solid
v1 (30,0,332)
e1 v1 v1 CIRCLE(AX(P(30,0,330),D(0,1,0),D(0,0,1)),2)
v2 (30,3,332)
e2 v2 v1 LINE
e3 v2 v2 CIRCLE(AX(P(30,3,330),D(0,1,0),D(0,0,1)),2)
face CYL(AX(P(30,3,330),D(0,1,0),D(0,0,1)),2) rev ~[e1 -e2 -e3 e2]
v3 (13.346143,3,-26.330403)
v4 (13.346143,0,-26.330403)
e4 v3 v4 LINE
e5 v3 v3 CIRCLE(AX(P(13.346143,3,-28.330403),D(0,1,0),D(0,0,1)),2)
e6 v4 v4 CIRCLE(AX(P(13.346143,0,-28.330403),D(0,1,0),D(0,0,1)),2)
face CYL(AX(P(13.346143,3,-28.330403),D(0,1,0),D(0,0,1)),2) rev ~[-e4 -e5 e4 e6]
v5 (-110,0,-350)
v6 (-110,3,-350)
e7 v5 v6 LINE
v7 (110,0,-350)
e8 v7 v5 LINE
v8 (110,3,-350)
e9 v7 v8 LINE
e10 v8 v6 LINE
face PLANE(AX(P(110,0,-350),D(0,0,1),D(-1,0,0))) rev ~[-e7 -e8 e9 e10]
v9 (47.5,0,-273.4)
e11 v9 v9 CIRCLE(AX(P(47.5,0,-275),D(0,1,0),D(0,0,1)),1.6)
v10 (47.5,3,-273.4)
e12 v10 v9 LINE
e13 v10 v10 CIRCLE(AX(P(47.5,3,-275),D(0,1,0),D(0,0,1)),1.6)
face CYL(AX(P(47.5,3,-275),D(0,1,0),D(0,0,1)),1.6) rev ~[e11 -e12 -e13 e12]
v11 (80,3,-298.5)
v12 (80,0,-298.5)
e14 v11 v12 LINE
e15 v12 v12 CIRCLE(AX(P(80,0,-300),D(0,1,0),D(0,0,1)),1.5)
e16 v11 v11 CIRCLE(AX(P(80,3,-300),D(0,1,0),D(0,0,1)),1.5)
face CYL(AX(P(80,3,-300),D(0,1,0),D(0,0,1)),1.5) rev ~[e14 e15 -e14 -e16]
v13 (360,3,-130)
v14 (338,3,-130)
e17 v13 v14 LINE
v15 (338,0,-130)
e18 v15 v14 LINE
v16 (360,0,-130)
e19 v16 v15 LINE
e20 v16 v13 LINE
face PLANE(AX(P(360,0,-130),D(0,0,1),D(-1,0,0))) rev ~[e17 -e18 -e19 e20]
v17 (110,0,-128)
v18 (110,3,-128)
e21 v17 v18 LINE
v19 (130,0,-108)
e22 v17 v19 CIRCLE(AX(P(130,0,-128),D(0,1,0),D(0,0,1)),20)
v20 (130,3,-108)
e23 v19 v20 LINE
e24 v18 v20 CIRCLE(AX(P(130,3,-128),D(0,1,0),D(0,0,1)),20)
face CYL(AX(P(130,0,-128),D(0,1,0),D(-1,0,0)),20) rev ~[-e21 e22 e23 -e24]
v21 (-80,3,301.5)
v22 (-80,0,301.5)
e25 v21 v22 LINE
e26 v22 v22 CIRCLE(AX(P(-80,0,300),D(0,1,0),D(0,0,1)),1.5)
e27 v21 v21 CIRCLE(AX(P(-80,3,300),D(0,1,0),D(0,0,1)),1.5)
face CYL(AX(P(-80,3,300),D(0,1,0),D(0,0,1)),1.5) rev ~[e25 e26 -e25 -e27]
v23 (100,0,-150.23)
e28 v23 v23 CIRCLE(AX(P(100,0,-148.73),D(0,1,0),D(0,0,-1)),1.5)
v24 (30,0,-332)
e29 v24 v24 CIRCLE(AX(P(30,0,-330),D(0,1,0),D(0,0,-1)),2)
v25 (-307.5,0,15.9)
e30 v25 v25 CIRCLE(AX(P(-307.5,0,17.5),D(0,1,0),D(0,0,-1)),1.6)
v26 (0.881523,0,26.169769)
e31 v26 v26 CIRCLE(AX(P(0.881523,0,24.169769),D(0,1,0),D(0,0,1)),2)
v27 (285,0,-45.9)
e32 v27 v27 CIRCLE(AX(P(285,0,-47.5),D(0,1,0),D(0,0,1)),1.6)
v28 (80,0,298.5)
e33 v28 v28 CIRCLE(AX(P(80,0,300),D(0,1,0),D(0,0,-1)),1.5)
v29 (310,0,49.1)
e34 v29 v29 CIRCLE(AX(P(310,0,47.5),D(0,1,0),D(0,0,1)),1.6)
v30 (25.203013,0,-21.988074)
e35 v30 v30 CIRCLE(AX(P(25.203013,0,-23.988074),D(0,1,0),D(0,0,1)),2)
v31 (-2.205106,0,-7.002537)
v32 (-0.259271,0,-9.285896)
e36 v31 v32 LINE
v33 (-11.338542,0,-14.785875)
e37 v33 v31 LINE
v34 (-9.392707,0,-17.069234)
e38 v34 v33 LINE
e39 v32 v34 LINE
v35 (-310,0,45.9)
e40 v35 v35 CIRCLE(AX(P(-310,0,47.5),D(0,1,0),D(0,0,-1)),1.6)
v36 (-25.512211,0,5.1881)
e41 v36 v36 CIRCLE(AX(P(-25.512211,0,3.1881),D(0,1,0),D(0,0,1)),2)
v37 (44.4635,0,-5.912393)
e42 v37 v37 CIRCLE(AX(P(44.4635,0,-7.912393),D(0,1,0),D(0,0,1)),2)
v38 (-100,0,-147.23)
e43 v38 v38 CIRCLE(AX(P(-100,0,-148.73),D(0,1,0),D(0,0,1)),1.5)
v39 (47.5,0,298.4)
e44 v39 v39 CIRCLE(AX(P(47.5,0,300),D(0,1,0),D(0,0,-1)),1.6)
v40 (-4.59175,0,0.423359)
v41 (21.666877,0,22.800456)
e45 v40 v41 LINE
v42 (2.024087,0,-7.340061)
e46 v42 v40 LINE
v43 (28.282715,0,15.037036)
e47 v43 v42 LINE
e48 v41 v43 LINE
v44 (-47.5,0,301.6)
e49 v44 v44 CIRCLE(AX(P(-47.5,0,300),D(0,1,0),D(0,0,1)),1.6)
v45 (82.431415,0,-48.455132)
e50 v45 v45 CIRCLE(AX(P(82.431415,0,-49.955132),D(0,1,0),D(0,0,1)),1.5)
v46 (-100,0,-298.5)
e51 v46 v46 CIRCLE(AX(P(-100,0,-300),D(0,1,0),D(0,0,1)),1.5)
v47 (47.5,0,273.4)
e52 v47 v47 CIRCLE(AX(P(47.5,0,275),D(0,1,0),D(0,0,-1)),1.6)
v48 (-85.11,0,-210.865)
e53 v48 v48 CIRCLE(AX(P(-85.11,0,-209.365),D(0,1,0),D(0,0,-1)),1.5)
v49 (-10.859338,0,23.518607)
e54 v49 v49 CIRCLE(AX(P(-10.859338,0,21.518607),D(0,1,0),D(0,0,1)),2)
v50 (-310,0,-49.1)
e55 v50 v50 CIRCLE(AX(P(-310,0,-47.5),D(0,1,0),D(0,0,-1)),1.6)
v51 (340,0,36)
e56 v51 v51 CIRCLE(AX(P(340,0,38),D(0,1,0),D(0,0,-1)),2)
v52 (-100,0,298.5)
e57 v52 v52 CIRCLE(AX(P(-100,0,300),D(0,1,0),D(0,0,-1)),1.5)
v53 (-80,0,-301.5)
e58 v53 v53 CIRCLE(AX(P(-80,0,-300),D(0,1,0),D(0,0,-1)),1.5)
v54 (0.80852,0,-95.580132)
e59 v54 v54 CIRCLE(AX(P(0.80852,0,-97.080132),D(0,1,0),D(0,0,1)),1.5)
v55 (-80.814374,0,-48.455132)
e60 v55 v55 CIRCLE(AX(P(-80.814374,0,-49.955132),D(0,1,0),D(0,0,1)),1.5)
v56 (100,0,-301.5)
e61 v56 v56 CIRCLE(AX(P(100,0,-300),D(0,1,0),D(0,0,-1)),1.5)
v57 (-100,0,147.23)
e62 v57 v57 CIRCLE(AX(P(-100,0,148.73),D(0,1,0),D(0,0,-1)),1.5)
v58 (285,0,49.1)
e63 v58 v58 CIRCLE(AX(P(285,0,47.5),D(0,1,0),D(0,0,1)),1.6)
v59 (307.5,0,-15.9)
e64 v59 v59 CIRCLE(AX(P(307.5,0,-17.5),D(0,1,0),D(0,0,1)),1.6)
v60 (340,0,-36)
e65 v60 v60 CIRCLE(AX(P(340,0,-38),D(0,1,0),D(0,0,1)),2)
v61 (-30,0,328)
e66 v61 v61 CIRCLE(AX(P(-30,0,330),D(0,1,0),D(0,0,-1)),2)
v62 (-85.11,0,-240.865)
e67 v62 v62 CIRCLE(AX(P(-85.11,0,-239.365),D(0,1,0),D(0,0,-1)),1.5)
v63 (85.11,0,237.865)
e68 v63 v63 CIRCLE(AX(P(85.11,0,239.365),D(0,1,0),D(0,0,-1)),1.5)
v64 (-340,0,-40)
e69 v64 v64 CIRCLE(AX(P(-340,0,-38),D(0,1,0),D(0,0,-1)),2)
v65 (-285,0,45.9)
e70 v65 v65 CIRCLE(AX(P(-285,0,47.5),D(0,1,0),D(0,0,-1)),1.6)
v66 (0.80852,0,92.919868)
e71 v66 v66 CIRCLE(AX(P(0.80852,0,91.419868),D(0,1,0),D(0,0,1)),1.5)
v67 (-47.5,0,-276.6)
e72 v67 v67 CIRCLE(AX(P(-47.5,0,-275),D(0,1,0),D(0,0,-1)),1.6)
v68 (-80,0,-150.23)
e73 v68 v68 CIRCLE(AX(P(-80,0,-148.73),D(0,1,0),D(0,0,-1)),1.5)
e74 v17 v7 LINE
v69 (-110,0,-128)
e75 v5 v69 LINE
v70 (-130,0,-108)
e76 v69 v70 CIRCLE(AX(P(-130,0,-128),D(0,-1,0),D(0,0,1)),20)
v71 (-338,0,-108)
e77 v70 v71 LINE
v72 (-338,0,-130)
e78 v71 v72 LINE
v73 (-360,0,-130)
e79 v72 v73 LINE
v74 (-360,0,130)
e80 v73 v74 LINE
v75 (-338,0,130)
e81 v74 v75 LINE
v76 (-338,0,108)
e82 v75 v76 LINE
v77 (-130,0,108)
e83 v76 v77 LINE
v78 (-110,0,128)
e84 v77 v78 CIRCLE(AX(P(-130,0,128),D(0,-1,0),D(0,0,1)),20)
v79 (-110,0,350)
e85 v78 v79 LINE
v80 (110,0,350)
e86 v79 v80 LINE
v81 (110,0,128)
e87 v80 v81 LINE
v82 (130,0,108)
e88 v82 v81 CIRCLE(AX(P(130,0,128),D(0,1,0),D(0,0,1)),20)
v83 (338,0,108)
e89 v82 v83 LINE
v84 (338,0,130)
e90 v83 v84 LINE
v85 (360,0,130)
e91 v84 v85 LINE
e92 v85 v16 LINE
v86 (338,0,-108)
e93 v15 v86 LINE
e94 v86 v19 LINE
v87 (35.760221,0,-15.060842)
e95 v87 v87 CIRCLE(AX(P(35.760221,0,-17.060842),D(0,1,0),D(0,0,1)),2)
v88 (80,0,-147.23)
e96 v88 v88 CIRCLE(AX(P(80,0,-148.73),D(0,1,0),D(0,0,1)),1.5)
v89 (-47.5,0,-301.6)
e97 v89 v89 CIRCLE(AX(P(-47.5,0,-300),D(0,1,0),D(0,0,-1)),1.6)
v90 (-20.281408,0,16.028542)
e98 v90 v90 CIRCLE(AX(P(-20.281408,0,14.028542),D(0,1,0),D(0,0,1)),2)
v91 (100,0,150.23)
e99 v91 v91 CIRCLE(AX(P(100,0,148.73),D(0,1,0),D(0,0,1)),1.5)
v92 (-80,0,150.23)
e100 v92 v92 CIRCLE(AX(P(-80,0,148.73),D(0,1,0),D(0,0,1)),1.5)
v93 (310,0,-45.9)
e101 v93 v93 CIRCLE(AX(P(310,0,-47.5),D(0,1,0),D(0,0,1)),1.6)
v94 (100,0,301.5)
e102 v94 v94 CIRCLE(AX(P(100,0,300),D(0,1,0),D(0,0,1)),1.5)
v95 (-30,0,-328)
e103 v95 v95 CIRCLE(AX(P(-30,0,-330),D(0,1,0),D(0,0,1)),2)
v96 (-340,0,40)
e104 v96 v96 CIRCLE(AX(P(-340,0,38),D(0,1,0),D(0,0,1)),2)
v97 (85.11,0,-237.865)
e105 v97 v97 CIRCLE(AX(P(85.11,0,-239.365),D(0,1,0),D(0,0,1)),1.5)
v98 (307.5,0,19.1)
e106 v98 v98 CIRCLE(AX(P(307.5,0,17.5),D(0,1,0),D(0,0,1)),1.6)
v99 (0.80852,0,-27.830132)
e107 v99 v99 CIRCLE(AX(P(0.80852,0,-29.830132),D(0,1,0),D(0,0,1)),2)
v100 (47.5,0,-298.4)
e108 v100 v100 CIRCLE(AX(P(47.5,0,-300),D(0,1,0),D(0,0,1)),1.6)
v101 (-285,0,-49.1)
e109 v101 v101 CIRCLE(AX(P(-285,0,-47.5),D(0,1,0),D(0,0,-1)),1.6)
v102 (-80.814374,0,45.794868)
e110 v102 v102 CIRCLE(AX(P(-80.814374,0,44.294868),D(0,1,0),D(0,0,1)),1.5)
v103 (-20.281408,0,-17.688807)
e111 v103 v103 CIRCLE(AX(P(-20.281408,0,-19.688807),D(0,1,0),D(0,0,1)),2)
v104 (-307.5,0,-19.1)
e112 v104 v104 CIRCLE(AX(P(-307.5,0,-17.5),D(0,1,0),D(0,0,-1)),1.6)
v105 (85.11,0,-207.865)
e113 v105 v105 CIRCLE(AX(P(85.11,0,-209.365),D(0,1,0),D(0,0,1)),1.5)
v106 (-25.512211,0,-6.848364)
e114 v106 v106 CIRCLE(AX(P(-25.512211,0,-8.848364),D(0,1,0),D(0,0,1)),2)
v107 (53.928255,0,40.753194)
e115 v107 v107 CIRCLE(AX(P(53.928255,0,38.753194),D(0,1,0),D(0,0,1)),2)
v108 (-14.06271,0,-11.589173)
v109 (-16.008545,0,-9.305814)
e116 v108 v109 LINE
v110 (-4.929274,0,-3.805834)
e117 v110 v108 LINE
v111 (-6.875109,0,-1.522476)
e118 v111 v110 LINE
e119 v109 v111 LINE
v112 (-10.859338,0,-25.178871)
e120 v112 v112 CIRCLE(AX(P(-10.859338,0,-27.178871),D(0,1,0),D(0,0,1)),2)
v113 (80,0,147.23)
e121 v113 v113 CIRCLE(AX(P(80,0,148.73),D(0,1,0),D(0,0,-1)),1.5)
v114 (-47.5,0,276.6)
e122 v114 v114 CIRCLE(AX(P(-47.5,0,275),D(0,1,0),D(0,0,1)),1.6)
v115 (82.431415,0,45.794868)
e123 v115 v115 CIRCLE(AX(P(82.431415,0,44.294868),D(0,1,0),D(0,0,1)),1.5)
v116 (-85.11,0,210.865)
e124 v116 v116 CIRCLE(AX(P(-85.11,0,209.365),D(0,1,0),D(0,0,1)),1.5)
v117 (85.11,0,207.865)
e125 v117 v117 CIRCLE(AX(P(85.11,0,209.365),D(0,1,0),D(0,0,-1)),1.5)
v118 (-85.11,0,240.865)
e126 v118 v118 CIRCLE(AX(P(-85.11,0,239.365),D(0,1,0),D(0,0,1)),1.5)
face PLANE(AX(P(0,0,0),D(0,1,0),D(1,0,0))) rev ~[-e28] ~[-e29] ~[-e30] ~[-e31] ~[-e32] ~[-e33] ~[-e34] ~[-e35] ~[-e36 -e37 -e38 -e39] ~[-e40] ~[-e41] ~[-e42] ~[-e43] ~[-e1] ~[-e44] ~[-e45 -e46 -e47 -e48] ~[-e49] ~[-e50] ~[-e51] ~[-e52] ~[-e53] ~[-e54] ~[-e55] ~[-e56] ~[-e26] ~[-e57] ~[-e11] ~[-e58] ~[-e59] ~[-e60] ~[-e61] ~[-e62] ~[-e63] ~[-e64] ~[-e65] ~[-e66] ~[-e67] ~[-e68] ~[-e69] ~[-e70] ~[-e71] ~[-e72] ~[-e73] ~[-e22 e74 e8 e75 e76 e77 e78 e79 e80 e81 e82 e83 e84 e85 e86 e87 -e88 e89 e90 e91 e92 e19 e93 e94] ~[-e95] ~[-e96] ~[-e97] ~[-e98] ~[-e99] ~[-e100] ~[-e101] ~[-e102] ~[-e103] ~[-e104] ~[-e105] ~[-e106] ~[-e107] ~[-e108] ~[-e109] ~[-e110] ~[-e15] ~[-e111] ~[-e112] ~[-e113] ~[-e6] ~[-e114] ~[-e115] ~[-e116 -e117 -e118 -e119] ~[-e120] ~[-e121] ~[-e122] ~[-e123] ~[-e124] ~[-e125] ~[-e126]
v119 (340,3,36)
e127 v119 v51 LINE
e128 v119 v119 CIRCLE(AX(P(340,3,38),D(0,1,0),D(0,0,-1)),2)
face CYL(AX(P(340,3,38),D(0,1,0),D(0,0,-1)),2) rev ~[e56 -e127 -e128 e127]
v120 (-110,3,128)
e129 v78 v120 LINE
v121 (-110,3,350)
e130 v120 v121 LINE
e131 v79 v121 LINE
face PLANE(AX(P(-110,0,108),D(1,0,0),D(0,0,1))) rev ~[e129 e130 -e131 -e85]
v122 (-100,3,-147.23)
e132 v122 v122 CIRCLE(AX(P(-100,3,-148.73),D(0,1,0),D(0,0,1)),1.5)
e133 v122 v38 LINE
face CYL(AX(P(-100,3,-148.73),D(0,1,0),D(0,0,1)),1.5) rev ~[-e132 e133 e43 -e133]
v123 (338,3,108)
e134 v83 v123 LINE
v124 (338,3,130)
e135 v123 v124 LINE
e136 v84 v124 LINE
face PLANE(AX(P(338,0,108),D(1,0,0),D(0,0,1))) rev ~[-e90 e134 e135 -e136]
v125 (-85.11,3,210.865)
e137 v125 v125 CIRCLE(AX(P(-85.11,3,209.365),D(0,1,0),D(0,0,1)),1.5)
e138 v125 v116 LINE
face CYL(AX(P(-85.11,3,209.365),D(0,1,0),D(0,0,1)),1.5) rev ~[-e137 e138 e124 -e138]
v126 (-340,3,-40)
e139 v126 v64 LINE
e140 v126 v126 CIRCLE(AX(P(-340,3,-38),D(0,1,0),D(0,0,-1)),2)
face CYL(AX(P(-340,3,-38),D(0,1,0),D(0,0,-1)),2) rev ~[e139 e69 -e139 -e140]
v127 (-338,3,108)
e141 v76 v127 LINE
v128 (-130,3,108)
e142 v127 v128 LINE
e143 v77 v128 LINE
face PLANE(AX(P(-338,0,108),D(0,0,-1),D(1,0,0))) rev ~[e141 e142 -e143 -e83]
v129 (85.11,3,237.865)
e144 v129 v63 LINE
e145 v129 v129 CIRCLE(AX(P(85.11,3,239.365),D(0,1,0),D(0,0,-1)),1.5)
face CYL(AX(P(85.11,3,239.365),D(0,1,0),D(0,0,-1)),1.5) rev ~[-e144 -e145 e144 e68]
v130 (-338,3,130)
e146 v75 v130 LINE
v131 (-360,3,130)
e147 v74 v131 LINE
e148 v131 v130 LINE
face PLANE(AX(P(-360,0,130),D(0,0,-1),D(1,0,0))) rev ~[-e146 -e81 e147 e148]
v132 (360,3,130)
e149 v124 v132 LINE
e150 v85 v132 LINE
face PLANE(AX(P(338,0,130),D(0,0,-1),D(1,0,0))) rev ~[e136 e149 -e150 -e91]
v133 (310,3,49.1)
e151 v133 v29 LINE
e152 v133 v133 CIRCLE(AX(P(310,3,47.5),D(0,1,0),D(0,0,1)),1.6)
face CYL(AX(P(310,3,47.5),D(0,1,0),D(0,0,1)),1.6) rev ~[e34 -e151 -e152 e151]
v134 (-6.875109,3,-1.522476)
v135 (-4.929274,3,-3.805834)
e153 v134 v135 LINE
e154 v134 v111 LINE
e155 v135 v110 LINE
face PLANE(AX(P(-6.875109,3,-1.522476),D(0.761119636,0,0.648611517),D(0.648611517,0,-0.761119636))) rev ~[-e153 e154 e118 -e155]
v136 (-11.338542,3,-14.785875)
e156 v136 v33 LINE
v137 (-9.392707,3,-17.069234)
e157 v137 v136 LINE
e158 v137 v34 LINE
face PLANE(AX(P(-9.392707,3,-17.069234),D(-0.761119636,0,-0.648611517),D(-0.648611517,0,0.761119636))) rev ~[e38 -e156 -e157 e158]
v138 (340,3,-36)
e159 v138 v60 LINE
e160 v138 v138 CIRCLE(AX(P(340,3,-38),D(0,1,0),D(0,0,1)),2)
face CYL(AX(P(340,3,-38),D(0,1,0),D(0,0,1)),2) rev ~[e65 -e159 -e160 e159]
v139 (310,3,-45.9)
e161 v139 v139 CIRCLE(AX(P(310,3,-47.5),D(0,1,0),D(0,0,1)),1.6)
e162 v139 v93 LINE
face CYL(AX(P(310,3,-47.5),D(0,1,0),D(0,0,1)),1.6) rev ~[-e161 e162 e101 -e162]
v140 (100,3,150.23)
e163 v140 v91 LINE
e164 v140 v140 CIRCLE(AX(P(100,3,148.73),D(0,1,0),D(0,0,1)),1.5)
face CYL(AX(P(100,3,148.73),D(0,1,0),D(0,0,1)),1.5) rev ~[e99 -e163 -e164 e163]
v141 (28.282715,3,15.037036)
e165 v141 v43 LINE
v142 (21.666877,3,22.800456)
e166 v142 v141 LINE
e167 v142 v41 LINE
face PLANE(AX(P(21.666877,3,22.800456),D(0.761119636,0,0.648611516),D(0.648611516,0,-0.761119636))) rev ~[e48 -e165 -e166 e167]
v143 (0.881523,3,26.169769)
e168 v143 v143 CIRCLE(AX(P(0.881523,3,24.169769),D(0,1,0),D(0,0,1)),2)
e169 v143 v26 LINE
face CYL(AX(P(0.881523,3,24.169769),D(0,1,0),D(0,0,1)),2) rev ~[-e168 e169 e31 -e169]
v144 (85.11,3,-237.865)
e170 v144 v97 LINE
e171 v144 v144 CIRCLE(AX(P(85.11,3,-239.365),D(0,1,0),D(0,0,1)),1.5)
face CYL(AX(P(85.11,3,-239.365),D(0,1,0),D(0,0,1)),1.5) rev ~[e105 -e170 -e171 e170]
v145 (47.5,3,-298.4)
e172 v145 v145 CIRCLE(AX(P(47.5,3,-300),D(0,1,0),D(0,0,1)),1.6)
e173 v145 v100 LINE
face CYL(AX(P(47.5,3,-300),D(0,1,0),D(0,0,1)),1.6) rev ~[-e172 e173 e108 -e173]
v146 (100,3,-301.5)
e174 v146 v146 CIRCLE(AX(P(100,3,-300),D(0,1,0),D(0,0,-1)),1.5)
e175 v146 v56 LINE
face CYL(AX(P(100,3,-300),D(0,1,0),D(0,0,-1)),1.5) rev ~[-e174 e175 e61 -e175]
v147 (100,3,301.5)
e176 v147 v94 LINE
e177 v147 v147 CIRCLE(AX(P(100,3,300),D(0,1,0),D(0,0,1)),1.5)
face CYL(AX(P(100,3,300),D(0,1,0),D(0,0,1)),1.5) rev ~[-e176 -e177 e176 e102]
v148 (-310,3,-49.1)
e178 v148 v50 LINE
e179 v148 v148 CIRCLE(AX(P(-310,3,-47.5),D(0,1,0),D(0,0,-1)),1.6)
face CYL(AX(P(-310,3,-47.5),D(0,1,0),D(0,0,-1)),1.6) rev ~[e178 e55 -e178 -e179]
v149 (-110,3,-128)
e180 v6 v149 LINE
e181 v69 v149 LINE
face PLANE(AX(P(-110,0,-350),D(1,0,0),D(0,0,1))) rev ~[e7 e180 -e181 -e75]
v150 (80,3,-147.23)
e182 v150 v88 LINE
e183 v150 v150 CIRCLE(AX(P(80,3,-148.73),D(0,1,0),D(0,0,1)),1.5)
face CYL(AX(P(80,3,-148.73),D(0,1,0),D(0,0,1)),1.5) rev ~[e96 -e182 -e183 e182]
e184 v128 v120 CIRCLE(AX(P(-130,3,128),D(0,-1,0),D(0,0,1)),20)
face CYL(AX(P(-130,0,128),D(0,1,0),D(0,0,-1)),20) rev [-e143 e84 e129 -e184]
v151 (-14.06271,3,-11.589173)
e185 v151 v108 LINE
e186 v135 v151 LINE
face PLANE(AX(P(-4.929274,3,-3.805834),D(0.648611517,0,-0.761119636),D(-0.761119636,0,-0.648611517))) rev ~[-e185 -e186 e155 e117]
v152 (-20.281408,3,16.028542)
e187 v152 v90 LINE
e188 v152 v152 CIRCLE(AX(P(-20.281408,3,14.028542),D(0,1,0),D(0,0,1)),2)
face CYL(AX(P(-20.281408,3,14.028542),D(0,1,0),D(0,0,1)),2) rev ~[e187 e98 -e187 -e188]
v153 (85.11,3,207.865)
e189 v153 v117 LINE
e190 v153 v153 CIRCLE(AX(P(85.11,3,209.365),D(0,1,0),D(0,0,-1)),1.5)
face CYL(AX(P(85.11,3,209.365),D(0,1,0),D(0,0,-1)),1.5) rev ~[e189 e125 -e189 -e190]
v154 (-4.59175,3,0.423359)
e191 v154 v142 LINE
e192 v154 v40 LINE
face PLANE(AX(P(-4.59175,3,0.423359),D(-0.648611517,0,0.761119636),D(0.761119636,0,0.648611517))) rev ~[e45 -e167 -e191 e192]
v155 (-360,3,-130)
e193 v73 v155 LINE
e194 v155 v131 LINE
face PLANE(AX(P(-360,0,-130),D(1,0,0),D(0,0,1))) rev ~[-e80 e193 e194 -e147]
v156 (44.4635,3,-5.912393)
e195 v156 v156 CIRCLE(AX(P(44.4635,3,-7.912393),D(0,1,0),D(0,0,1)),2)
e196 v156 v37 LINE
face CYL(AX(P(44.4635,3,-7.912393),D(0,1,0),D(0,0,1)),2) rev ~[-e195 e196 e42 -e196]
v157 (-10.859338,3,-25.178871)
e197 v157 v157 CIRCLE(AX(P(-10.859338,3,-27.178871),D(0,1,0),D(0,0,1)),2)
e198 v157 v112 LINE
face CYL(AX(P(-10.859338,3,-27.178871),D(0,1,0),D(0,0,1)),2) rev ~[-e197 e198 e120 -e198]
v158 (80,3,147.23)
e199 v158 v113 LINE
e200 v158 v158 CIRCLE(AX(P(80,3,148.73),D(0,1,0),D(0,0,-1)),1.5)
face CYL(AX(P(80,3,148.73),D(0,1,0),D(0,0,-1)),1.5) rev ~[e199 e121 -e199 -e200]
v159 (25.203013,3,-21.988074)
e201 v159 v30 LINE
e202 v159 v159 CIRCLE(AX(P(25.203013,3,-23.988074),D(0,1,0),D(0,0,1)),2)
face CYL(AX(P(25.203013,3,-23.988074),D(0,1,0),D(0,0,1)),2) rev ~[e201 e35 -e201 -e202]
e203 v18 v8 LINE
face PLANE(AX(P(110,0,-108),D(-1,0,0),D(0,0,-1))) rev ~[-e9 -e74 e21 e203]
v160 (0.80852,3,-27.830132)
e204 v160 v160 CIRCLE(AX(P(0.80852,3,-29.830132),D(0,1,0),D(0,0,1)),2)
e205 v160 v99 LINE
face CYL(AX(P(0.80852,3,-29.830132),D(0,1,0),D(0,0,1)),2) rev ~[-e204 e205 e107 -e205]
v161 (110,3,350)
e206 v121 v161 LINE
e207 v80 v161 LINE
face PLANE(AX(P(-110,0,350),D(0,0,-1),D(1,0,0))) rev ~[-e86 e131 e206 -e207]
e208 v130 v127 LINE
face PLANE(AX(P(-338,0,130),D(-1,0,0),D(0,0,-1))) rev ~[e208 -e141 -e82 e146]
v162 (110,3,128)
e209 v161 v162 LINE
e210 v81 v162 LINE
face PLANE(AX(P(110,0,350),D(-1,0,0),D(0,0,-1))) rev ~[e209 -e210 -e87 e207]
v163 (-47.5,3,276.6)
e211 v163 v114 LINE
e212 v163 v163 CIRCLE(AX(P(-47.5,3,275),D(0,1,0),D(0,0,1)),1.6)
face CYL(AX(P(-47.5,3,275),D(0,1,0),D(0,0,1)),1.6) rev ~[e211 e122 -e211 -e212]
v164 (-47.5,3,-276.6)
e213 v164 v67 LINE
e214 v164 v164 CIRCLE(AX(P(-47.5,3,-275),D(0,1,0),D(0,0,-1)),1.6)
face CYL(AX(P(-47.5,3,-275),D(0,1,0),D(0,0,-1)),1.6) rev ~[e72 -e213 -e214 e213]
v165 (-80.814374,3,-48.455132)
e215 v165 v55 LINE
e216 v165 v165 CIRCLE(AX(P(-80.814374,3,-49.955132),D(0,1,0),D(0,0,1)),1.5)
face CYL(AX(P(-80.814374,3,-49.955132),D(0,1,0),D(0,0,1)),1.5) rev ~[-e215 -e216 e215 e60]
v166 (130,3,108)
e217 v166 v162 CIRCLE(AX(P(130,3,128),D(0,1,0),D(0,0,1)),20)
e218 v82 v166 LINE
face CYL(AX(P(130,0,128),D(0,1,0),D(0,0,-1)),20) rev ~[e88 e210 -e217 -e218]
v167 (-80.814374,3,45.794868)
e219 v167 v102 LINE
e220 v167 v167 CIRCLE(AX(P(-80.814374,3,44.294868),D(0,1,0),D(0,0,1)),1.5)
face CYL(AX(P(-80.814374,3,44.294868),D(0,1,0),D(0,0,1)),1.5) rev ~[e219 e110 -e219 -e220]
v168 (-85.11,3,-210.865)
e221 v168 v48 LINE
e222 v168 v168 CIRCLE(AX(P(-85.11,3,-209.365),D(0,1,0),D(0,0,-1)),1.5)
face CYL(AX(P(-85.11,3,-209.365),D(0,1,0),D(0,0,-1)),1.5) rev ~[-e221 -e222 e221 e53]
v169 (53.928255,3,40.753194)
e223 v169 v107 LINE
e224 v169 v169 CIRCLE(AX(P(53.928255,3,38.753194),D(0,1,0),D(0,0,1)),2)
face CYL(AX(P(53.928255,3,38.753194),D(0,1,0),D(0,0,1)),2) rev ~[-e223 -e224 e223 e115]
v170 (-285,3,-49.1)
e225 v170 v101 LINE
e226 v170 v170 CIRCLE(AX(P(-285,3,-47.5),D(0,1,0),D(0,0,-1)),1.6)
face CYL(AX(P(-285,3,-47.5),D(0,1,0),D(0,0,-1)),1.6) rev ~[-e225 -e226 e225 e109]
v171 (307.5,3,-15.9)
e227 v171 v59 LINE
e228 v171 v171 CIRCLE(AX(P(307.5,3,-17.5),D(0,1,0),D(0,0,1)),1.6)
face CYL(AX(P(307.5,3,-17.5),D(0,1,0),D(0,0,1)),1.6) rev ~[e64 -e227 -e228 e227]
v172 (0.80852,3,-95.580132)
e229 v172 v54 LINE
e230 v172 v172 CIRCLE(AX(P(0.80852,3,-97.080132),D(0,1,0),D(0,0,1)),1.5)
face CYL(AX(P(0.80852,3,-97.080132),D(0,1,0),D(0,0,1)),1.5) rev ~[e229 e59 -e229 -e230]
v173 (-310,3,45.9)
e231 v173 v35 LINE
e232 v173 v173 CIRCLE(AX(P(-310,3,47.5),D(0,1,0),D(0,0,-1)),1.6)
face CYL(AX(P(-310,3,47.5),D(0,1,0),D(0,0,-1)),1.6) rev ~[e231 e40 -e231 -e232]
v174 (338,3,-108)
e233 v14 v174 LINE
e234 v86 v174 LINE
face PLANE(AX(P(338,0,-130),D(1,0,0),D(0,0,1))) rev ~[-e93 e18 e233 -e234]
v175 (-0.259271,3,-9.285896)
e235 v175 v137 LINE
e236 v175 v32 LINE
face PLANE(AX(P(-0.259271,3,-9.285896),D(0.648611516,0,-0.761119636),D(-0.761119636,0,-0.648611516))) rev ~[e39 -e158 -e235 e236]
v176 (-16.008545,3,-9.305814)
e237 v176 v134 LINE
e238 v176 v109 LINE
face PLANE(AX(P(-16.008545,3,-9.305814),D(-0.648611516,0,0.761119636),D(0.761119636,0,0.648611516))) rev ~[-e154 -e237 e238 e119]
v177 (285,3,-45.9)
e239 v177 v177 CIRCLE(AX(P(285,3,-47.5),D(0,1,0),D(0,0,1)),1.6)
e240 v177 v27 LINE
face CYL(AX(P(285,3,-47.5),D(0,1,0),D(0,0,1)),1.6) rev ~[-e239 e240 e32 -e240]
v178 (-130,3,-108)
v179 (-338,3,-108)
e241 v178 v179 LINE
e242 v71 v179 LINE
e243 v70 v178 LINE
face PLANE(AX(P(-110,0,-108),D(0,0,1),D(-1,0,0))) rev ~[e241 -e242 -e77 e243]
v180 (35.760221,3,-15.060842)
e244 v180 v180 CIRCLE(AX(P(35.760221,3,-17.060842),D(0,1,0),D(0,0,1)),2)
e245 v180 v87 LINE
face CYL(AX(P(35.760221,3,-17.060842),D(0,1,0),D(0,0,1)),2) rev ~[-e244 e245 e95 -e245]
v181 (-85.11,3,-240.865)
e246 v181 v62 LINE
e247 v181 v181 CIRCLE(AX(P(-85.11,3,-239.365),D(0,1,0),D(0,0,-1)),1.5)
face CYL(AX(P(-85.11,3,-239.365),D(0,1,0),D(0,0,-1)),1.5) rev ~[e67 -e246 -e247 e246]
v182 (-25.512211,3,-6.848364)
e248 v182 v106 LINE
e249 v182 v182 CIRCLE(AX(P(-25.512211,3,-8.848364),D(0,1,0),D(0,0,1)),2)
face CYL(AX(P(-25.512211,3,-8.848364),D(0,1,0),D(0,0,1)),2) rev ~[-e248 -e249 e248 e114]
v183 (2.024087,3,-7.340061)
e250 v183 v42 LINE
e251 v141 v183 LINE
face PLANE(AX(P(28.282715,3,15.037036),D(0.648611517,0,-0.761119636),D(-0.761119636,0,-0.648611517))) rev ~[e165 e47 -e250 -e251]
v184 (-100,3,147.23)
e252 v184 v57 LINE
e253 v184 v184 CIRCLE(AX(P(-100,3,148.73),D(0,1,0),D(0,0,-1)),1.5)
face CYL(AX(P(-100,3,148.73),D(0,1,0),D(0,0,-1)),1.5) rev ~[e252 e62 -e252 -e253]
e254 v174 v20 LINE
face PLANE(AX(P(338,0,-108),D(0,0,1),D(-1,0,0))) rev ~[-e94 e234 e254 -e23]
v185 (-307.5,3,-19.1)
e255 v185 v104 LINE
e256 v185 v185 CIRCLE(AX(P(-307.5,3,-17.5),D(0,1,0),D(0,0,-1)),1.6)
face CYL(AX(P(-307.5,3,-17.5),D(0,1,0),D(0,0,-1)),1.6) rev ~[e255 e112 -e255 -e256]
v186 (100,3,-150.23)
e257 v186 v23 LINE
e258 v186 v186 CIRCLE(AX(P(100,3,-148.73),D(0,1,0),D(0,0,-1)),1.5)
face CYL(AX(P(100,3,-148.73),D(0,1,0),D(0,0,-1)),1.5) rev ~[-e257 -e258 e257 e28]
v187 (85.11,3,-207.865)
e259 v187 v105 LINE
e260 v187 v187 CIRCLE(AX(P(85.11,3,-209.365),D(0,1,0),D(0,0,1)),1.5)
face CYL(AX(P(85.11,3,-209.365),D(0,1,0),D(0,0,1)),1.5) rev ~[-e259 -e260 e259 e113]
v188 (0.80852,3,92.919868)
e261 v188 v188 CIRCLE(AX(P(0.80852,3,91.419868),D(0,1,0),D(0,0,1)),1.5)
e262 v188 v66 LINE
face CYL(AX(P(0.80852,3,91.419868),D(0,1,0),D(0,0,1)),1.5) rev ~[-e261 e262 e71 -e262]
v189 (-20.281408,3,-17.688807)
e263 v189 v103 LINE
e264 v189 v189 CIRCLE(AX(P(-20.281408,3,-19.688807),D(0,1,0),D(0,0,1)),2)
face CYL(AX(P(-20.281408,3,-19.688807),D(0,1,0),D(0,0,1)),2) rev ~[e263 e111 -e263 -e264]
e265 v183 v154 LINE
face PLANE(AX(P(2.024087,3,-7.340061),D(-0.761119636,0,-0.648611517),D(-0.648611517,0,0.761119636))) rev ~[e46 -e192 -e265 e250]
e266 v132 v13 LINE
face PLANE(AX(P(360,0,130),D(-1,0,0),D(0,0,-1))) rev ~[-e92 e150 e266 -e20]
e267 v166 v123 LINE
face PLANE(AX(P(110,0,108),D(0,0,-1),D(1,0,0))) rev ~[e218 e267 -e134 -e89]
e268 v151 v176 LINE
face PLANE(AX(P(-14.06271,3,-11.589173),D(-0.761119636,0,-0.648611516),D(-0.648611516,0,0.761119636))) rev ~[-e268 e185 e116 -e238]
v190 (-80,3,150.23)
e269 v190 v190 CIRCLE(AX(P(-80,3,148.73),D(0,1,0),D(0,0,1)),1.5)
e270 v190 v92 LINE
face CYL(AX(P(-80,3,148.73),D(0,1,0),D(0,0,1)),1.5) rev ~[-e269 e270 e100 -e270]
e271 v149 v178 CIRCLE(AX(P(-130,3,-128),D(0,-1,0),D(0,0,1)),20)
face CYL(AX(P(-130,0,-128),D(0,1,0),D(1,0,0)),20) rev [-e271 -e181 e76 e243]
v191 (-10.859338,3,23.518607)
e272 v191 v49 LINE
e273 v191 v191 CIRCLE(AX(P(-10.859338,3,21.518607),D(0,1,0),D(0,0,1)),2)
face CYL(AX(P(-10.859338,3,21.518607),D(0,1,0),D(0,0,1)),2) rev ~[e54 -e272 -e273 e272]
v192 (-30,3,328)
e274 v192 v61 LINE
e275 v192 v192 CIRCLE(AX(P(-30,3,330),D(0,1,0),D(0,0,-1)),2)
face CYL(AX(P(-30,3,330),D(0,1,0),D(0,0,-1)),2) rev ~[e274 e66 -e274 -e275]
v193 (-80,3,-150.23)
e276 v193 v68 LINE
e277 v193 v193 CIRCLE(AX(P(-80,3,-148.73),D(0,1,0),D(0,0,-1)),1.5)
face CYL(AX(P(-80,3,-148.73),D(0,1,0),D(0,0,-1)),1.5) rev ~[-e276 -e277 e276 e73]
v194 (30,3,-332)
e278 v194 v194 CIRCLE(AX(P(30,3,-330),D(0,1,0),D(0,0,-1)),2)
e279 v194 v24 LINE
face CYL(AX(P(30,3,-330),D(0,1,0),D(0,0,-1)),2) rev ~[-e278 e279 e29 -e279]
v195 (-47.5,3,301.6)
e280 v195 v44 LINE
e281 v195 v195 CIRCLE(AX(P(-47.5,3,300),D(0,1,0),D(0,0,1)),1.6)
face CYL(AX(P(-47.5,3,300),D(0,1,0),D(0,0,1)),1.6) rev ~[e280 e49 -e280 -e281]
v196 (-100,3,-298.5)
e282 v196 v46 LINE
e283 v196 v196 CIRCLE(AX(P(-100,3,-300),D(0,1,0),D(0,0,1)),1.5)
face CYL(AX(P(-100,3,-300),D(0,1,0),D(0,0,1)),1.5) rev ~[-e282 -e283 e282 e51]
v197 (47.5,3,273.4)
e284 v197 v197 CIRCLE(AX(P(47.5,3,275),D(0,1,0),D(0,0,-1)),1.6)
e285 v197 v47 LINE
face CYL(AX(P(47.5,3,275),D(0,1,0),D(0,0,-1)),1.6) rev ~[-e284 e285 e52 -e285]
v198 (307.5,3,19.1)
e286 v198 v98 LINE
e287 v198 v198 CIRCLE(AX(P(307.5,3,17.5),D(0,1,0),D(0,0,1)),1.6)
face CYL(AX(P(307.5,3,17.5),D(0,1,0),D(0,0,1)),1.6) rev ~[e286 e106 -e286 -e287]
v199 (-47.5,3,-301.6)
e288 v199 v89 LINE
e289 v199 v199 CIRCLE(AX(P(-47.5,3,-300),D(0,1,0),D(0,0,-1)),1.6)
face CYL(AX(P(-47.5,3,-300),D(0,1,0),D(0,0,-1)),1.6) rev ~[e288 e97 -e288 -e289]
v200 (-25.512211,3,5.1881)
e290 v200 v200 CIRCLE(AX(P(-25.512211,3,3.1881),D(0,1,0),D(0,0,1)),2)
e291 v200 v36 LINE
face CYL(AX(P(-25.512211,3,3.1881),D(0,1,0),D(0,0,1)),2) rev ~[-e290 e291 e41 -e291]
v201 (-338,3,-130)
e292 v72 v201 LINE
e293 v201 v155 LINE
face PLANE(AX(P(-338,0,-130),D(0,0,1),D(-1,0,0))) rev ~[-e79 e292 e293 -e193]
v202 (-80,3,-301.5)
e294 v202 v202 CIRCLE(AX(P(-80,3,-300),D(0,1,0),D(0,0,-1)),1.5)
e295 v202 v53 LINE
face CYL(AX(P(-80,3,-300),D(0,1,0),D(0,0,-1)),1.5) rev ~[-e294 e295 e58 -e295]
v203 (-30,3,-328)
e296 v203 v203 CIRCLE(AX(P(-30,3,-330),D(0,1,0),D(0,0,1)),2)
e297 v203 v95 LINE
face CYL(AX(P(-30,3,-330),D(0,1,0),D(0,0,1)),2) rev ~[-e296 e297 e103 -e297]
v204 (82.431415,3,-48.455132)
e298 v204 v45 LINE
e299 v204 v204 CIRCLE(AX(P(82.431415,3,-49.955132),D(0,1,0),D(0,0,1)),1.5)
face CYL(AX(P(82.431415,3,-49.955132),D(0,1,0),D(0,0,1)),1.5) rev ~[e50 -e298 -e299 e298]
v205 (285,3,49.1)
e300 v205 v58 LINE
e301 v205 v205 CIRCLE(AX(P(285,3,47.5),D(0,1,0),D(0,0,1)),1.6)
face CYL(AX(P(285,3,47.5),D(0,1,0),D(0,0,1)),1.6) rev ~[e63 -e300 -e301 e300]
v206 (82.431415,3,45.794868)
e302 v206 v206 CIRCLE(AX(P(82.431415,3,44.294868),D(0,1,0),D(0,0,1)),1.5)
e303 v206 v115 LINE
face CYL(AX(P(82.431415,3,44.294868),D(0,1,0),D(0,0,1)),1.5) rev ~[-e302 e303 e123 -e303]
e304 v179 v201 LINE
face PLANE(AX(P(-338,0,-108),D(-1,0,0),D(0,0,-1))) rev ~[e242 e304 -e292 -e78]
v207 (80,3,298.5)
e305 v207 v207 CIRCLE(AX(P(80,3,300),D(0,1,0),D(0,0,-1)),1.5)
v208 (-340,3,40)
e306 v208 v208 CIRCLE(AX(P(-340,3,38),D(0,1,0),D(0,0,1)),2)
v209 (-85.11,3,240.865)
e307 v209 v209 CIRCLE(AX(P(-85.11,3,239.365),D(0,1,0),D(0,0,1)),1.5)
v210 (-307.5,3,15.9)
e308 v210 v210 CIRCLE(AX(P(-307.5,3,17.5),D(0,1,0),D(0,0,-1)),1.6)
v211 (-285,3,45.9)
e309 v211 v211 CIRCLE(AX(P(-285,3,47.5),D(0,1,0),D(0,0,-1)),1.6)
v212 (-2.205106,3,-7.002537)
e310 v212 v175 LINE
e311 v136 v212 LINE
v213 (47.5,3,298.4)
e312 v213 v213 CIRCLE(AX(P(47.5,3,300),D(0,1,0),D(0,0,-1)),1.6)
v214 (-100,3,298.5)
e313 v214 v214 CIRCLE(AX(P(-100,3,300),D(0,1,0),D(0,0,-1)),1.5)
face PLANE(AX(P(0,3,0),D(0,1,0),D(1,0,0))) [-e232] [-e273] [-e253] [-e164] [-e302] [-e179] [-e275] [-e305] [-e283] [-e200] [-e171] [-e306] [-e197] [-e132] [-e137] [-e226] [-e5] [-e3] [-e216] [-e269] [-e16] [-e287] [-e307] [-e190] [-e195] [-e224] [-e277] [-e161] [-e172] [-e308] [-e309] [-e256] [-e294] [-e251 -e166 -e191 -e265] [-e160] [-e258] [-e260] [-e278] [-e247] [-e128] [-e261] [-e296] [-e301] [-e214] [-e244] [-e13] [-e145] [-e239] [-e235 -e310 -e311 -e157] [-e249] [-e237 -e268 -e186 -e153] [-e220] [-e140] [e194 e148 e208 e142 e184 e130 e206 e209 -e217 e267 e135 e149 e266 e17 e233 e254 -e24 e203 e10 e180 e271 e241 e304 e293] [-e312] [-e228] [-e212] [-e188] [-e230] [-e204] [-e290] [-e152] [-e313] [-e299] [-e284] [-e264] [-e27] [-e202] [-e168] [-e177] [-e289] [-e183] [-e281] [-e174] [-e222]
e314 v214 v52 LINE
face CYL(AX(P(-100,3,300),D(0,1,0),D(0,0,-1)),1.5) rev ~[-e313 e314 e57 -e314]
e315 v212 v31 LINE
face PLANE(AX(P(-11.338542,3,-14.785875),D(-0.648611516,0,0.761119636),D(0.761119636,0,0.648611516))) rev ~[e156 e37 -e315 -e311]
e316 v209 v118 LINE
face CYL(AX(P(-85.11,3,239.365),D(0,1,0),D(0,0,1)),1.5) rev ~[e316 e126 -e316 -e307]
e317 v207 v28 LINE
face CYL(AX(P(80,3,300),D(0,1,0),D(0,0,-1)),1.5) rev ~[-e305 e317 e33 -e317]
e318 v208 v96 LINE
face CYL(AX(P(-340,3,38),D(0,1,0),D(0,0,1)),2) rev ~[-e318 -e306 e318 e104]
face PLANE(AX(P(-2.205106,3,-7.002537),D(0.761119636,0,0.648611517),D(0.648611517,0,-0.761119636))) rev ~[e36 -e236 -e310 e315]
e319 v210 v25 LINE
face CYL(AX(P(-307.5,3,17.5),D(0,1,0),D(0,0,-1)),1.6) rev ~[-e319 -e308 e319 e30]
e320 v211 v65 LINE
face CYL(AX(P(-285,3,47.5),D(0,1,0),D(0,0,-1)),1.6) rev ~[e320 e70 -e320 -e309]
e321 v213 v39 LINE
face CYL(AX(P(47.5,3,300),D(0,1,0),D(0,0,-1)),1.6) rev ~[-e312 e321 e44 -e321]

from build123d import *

# Parameters (mm, degrees)
BOSS_EXTRUDE1_DEPTH = 3
SKETCH2_R           = 1.6
CUT_EXTRUDE1_DEPTH  = 503.104570782
SKETCH3_R           = 2
CUT_EXTRUDE2_DEPTH  = 503.104570782
SKETCH4_R           = 2
SKETCH4_R_2         = 1.5
CUT_EXTRUDE3_DEPTH  = 10
SKETCH5_R           = 1.5
CUT_EXTRUDE4_DEPTH  = 10
FILLET1_R           = 20


with BuildPart() as part:
    # Sketch1 → Boss-Extrude1 (new body)
    with BuildSketch(Plane(origin=(0, 0, 0), x_dir=(1, 0, 0), z_dir=(0, 1, 0))):
        Polygon((-110, 350), (-110, 108), (-338, 108), (-338, 130), (-360, 130), (-360, -130), (-338, -130), (-338, -108), (-110, -108), (-110, -350), (110, -350), (110, -108), (338, -108), (338, -130), (360, -130), (360, 130), (338, 130), (338, 108), (110, 108), (110, 350), align=None)
    extrude(amount=BOSS_EXTRUDE1_DEPTH)

    # Sketch2 → Cut-Extrude1 (cut, through all)
    with BuildSketch(Plane(origin=(0, 3, 0), x_dir=(1, 0, 0), z_dir=(0, 1, 0))):
        with Locations(Location((310, 47.5, 0), (0, 0, 270))):
            Circle(SKETCH2_R)
        with Locations(Location((285, 47.5, 0), (0, 0, 270))):
            Circle(SKETCH2_R)
        with Locations(Location((307.5, 17.5, 0), (0, 0, 270))):
            Circle(SKETCH2_R)
        with Locations(Location((307.5, -17.5, 0), (0, 0, 270))):
            Circle(SKETCH2_R)
        with Locations(Location((310, -47.5, 0), (0, 0, 270))):
            Circle(SKETCH2_R)
        with Locations(Location((285, -47.5, 0), (0, 0, 270))):
            Circle(SKETCH2_R)
        with Locations(Location((-285, -47.5, 0), (0, 0, 90))):
            Circle(SKETCH2_R)
        with Locations(Location((-310, -47.5, 0), (0, 0, 90))):
            Circle(SKETCH2_R)
        with Locations(Location((-307.5, -17.5, 0), (0, 0, 90))):
            Circle(SKETCH2_R)
        with Locations(Location((-307.5, 17.5, 0), (0, 0, 90))):
            Circle(SKETCH2_R)
        with Locations(Location((-285, 47.5, 0), (0, 0, 90))):
            Circle(SKETCH2_R)
        with Locations(Location((-310, 47.5, 0), (0, 0, 90))):
            Circle(SKETCH2_R)
        with Locations(Location((47.5, 300, 0), (0, 0, 270))):
            Circle(SKETCH2_R)
        with Locations(Location((47.5, 275, 0), (0, 0, 270))):
            Circle(SKETCH2_R)
        with Locations(Location((-47.5, 275, 0), (0, 0, 90))):
            Circle(SKETCH2_R)
        with Locations(Location((-47.5, 300, 0), (0, 0, 90))):
            Circle(SKETCH2_R)
        with Locations(Location((-47.5, -300, 0), (0, 0, 270))):
            Circle(SKETCH2_R)
        with Locations(Location((-47.5, -275, 0), (0, 0, 270))):
            Circle(SKETCH2_R)
        with Locations(Location((47.5, -275, 0), (0, 0, 90))):
            Circle(SKETCH2_R)
        with Locations(Location((47.5, -300, 0), (0, 0, 90))):
            Circle(SKETCH2_R)
    extrude(amount=-CUT_EXTRUDE1_DEPTH, mode=Mode.SUBTRACT)

    # Sketch3 → Cut-Extrude2 (cut, through all)
    with BuildSketch(Plane(origin=(0, 3, 0), x_dir=(1, 0, 0), z_dir=(0, 1, 0))):
        with Locations(Location((340, 38, 0), (0, 0, 270))):
            Circle(SKETCH3_R)
        with Locations(Location((340, -38, 0), (0, 0, 90))):
            Circle(SKETCH3_R)
        with Locations(Location((-340, -38, 0), (0, 0, 270))):
            Circle(SKETCH3_R)
        with Locations(Location((-340, 38, 0), (0, 0, 90))):
            Circle(SKETCH3_R)
        with Locations(Location((-30, 330, 0), (0, 0, 270))):
            Circle(SKETCH3_R)
        with Locations(Location((30, 330, 0), (0, 0, 90))):
            Circle(SKETCH3_R)
        with Locations(Location((30, -330, 0), (0, 0, 270))):
            Circle(SKETCH3_R)
        with Locations(Location((-30, -330, 0), (0, 0, 90))):
            Circle(SKETCH3_R)
    extrude(amount=-CUT_EXTRUDE2_DEPTH, mode=Mode.SUBTRACT)

    # Sketch4 → Cut-Extrude3 (cut)
    with BuildSketch(Plane(origin=(0, 3, 0), x_dir=(1, 0, 0), z_dir=(0, 1, 0))):
        with Locations(Location((0.808520266, 29.830132062, 0), (0, 0, 270))):
            Circle(SKETCH4_R)
        with Locations(Location((13.346143391, 28.330403085, 0), (0, 0, 270))):
            Circle(SKETCH4_R)
        with Locations(Location((25.203013099, 23.988074058, 0), (0, 0, 270))):
            Circle(SKETCH4_R)
        with Locations(Location((35.760220631, 17.060841581, 0), (0, 0, 270))):
            Circle(SKETCH4_R)
        with Locations(Location((44.463500299, 7.912393424, 0), (0, 0, 270))):
            Circle(SKETCH4_R)
        with Locations(Location((53.928254969, -38.753193613, 0), (0, 0, 270))):
            Circle(SKETCH4_R)
        with Locations(Location((-10.859337922, 27.178870948, 0), (0, 0, 270))):
            Circle(SKETCH4_R)
        with Locations(Location((-20.281408497, 19.688806529, 0), (0, 0, 270))):
            Circle(SKETCH4_R)
        with Locations(Location((-25.512210732, 8.848364338, 0), (0, 0, 270))):
            Circle(SKETCH4_R)
        with Locations(Location((-25.512210732, -3.188100214, 0), (0, 0, 270))):
            Circle(SKETCH4_R)
        with Locations(Location((-20.281408497, -14.028542405, 0), (0, 0, 270))):
            Circle(SKETCH4_R)
        with Locations(Location((-10.859337922, -21.518606823, 0), (0, 0, 270))):
            Circle(SKETCH4_R)
        with Locations(Location((0.881523066, -24.169769245, 0), (0, 0, 270))):
            Circle(SKETCH4_R)
        with Locations(Location((0.808520266, 97.080132062, 0), (0, 0, 270))):
            Circle(SKETCH4_R_2)
        with Locations(Location((82.431414572, 49.955132062, 0), (0, 0, 270))):
            Circle(SKETCH4_R_2)
        with Locations(Location((82.431414572, -44.294867938, 0), (0, 0, 270))):
            Circle(SKETCH4_R_2)
        with Locations(Location((0.808520266, -91.419867938, 0), (0, 0, 270))):
            Circle(SKETCH4_R_2)
        with Locations(Location((-80.814374041, -44.294867938, 0), (0, 0, 270))):
            Circle(SKETCH4_R_2)
        with Locations(Location((-80.814374041, 49.955132062, 0), (0, 0, 270))):
            Circle(SKETCH4_R_2)
        Polygon((-4.591750043, -0.423359002), (21.666877407, -22.800456322), (28.282714875, -15.037036032), (2.024087426, 7.340061288), align=None)
        Polygon((-6.875108951, 1.522475548), (-4.929274402, 3.805834456), (-14.062710037, 11.589172655), (-16.008544586, 9.305813746), align=None)
        Polygon((-2.205106032, 7.002536929), (-0.259271483, 9.285895837), (-9.392707118, 17.069234035), (-11.338541667, 14.785875127), align=None)
    extrude(amount=-CUT_EXTRUDE3_DEPTH, mode=Mode.SUBTRACT)

    # Sketch5 → Cut-Extrude4 (cut)
    with BuildSketch(Plane(origin=(0, 3, 0), x_dir=(1, 0, 0), z_dir=(0, 1, 0))):
        with Locations(Location((80, 300, 0), (0, 0, 270))):
            Circle(SKETCH5_R)
        with Locations(Location((80, 148.73, 0), (0, 0, 270))):
            Circle(SKETCH5_R)
        with Locations(Location((85.11, 239.365, 0), (0, 0, 270))):
            Circle(SKETCH5_R)
        with Locations(Location((85.11, 209.365, 0), (0, 0, 270))):
            Circle(SKETCH5_R)
        with Locations(Location((100, 148.73, 0), (0, 0, 90))):
            Circle(SKETCH5_R)
        with Locations(Location((100, 300, 0), (0, 0, 90))):
            Circle(SKETCH5_R)
        with Locations(Location((-100, 300, 0), (0, 0, 270))):
            Circle(SKETCH5_R)
        with Locations(Location((-100, 148.73, 0), (0, 0, 270))):
            Circle(SKETCH5_R)
        with Locations(Location((-85.11, 209.365, 0), (0, 0, 90))):
            Circle(SKETCH5_R)
        with Locations(Location((-85.11, 239.365, 0), (0, 0, 90))):
            Circle(SKETCH5_R)
        with Locations(Location((-80, 148.73, 0), (0, 0, 90))):
            Circle(SKETCH5_R)
        with Locations(Location((-80, 300, 0), (0, 0, 90))):
            Circle(SKETCH5_R)
        with Locations(Location((-80, -300, 0), (0, 0, 270))):
            Circle(SKETCH5_R)
        with Locations(Location((-80, -148.73, 0), (0, 0, 270))):
            Circle(SKETCH5_R)
        with Locations(Location((-85.11, -239.365, 0), (0, 0, 270))):
            Circle(SKETCH5_R)
        with Locations(Location((-85.11, -209.365, 0), (0, 0, 270))):
            Circle(SKETCH5_R)
        with Locations(Location((-100, -148.73, 0), (0, 0, 90))):
            Circle(SKETCH5_R)
        with Locations(Location((-100, -300, 0), (0, 0, 90))):
            Circle(SKETCH5_R)
        with Locations(Location((100, -300, 0), (0, 0, 270))):
            Circle(SKETCH5_R)
        with Locations(Location((100, -148.73, 0), (0, 0, 270))):
            Circle(SKETCH5_R)
        with Locations(Location((85.11, -209.365, 0), (0, 0, 90))):
            Circle(SKETCH5_R)
        with Locations(Location((85.11, -239.365, 0), (0, 0, 90))):
            Circle(SKETCH5_R)
        with Locations(Location((80, -148.73, 0), (0, 0, 90))):
            Circle(SKETCH5_R)
        with Locations(Location((80, -300, 0), (0, 0, 90))):
            Circle(SKETCH5_R)
    extrude(amount=-CUT_EXTRUDE4_DEPTH, mode=Mode.SUBTRACT)

    # Fillet1
    fillet1_edges = [part.edges().sort_by_distance(p)[0] for p in [
        (110, 1.5, -108),
        (110, 1.5, 108),
        (-110, 1.5, 108),
        (-110, 1.5, -108),
    ]]
    fillet(fillet1_edges, radius=FILLET1_R)


solid = part.part
